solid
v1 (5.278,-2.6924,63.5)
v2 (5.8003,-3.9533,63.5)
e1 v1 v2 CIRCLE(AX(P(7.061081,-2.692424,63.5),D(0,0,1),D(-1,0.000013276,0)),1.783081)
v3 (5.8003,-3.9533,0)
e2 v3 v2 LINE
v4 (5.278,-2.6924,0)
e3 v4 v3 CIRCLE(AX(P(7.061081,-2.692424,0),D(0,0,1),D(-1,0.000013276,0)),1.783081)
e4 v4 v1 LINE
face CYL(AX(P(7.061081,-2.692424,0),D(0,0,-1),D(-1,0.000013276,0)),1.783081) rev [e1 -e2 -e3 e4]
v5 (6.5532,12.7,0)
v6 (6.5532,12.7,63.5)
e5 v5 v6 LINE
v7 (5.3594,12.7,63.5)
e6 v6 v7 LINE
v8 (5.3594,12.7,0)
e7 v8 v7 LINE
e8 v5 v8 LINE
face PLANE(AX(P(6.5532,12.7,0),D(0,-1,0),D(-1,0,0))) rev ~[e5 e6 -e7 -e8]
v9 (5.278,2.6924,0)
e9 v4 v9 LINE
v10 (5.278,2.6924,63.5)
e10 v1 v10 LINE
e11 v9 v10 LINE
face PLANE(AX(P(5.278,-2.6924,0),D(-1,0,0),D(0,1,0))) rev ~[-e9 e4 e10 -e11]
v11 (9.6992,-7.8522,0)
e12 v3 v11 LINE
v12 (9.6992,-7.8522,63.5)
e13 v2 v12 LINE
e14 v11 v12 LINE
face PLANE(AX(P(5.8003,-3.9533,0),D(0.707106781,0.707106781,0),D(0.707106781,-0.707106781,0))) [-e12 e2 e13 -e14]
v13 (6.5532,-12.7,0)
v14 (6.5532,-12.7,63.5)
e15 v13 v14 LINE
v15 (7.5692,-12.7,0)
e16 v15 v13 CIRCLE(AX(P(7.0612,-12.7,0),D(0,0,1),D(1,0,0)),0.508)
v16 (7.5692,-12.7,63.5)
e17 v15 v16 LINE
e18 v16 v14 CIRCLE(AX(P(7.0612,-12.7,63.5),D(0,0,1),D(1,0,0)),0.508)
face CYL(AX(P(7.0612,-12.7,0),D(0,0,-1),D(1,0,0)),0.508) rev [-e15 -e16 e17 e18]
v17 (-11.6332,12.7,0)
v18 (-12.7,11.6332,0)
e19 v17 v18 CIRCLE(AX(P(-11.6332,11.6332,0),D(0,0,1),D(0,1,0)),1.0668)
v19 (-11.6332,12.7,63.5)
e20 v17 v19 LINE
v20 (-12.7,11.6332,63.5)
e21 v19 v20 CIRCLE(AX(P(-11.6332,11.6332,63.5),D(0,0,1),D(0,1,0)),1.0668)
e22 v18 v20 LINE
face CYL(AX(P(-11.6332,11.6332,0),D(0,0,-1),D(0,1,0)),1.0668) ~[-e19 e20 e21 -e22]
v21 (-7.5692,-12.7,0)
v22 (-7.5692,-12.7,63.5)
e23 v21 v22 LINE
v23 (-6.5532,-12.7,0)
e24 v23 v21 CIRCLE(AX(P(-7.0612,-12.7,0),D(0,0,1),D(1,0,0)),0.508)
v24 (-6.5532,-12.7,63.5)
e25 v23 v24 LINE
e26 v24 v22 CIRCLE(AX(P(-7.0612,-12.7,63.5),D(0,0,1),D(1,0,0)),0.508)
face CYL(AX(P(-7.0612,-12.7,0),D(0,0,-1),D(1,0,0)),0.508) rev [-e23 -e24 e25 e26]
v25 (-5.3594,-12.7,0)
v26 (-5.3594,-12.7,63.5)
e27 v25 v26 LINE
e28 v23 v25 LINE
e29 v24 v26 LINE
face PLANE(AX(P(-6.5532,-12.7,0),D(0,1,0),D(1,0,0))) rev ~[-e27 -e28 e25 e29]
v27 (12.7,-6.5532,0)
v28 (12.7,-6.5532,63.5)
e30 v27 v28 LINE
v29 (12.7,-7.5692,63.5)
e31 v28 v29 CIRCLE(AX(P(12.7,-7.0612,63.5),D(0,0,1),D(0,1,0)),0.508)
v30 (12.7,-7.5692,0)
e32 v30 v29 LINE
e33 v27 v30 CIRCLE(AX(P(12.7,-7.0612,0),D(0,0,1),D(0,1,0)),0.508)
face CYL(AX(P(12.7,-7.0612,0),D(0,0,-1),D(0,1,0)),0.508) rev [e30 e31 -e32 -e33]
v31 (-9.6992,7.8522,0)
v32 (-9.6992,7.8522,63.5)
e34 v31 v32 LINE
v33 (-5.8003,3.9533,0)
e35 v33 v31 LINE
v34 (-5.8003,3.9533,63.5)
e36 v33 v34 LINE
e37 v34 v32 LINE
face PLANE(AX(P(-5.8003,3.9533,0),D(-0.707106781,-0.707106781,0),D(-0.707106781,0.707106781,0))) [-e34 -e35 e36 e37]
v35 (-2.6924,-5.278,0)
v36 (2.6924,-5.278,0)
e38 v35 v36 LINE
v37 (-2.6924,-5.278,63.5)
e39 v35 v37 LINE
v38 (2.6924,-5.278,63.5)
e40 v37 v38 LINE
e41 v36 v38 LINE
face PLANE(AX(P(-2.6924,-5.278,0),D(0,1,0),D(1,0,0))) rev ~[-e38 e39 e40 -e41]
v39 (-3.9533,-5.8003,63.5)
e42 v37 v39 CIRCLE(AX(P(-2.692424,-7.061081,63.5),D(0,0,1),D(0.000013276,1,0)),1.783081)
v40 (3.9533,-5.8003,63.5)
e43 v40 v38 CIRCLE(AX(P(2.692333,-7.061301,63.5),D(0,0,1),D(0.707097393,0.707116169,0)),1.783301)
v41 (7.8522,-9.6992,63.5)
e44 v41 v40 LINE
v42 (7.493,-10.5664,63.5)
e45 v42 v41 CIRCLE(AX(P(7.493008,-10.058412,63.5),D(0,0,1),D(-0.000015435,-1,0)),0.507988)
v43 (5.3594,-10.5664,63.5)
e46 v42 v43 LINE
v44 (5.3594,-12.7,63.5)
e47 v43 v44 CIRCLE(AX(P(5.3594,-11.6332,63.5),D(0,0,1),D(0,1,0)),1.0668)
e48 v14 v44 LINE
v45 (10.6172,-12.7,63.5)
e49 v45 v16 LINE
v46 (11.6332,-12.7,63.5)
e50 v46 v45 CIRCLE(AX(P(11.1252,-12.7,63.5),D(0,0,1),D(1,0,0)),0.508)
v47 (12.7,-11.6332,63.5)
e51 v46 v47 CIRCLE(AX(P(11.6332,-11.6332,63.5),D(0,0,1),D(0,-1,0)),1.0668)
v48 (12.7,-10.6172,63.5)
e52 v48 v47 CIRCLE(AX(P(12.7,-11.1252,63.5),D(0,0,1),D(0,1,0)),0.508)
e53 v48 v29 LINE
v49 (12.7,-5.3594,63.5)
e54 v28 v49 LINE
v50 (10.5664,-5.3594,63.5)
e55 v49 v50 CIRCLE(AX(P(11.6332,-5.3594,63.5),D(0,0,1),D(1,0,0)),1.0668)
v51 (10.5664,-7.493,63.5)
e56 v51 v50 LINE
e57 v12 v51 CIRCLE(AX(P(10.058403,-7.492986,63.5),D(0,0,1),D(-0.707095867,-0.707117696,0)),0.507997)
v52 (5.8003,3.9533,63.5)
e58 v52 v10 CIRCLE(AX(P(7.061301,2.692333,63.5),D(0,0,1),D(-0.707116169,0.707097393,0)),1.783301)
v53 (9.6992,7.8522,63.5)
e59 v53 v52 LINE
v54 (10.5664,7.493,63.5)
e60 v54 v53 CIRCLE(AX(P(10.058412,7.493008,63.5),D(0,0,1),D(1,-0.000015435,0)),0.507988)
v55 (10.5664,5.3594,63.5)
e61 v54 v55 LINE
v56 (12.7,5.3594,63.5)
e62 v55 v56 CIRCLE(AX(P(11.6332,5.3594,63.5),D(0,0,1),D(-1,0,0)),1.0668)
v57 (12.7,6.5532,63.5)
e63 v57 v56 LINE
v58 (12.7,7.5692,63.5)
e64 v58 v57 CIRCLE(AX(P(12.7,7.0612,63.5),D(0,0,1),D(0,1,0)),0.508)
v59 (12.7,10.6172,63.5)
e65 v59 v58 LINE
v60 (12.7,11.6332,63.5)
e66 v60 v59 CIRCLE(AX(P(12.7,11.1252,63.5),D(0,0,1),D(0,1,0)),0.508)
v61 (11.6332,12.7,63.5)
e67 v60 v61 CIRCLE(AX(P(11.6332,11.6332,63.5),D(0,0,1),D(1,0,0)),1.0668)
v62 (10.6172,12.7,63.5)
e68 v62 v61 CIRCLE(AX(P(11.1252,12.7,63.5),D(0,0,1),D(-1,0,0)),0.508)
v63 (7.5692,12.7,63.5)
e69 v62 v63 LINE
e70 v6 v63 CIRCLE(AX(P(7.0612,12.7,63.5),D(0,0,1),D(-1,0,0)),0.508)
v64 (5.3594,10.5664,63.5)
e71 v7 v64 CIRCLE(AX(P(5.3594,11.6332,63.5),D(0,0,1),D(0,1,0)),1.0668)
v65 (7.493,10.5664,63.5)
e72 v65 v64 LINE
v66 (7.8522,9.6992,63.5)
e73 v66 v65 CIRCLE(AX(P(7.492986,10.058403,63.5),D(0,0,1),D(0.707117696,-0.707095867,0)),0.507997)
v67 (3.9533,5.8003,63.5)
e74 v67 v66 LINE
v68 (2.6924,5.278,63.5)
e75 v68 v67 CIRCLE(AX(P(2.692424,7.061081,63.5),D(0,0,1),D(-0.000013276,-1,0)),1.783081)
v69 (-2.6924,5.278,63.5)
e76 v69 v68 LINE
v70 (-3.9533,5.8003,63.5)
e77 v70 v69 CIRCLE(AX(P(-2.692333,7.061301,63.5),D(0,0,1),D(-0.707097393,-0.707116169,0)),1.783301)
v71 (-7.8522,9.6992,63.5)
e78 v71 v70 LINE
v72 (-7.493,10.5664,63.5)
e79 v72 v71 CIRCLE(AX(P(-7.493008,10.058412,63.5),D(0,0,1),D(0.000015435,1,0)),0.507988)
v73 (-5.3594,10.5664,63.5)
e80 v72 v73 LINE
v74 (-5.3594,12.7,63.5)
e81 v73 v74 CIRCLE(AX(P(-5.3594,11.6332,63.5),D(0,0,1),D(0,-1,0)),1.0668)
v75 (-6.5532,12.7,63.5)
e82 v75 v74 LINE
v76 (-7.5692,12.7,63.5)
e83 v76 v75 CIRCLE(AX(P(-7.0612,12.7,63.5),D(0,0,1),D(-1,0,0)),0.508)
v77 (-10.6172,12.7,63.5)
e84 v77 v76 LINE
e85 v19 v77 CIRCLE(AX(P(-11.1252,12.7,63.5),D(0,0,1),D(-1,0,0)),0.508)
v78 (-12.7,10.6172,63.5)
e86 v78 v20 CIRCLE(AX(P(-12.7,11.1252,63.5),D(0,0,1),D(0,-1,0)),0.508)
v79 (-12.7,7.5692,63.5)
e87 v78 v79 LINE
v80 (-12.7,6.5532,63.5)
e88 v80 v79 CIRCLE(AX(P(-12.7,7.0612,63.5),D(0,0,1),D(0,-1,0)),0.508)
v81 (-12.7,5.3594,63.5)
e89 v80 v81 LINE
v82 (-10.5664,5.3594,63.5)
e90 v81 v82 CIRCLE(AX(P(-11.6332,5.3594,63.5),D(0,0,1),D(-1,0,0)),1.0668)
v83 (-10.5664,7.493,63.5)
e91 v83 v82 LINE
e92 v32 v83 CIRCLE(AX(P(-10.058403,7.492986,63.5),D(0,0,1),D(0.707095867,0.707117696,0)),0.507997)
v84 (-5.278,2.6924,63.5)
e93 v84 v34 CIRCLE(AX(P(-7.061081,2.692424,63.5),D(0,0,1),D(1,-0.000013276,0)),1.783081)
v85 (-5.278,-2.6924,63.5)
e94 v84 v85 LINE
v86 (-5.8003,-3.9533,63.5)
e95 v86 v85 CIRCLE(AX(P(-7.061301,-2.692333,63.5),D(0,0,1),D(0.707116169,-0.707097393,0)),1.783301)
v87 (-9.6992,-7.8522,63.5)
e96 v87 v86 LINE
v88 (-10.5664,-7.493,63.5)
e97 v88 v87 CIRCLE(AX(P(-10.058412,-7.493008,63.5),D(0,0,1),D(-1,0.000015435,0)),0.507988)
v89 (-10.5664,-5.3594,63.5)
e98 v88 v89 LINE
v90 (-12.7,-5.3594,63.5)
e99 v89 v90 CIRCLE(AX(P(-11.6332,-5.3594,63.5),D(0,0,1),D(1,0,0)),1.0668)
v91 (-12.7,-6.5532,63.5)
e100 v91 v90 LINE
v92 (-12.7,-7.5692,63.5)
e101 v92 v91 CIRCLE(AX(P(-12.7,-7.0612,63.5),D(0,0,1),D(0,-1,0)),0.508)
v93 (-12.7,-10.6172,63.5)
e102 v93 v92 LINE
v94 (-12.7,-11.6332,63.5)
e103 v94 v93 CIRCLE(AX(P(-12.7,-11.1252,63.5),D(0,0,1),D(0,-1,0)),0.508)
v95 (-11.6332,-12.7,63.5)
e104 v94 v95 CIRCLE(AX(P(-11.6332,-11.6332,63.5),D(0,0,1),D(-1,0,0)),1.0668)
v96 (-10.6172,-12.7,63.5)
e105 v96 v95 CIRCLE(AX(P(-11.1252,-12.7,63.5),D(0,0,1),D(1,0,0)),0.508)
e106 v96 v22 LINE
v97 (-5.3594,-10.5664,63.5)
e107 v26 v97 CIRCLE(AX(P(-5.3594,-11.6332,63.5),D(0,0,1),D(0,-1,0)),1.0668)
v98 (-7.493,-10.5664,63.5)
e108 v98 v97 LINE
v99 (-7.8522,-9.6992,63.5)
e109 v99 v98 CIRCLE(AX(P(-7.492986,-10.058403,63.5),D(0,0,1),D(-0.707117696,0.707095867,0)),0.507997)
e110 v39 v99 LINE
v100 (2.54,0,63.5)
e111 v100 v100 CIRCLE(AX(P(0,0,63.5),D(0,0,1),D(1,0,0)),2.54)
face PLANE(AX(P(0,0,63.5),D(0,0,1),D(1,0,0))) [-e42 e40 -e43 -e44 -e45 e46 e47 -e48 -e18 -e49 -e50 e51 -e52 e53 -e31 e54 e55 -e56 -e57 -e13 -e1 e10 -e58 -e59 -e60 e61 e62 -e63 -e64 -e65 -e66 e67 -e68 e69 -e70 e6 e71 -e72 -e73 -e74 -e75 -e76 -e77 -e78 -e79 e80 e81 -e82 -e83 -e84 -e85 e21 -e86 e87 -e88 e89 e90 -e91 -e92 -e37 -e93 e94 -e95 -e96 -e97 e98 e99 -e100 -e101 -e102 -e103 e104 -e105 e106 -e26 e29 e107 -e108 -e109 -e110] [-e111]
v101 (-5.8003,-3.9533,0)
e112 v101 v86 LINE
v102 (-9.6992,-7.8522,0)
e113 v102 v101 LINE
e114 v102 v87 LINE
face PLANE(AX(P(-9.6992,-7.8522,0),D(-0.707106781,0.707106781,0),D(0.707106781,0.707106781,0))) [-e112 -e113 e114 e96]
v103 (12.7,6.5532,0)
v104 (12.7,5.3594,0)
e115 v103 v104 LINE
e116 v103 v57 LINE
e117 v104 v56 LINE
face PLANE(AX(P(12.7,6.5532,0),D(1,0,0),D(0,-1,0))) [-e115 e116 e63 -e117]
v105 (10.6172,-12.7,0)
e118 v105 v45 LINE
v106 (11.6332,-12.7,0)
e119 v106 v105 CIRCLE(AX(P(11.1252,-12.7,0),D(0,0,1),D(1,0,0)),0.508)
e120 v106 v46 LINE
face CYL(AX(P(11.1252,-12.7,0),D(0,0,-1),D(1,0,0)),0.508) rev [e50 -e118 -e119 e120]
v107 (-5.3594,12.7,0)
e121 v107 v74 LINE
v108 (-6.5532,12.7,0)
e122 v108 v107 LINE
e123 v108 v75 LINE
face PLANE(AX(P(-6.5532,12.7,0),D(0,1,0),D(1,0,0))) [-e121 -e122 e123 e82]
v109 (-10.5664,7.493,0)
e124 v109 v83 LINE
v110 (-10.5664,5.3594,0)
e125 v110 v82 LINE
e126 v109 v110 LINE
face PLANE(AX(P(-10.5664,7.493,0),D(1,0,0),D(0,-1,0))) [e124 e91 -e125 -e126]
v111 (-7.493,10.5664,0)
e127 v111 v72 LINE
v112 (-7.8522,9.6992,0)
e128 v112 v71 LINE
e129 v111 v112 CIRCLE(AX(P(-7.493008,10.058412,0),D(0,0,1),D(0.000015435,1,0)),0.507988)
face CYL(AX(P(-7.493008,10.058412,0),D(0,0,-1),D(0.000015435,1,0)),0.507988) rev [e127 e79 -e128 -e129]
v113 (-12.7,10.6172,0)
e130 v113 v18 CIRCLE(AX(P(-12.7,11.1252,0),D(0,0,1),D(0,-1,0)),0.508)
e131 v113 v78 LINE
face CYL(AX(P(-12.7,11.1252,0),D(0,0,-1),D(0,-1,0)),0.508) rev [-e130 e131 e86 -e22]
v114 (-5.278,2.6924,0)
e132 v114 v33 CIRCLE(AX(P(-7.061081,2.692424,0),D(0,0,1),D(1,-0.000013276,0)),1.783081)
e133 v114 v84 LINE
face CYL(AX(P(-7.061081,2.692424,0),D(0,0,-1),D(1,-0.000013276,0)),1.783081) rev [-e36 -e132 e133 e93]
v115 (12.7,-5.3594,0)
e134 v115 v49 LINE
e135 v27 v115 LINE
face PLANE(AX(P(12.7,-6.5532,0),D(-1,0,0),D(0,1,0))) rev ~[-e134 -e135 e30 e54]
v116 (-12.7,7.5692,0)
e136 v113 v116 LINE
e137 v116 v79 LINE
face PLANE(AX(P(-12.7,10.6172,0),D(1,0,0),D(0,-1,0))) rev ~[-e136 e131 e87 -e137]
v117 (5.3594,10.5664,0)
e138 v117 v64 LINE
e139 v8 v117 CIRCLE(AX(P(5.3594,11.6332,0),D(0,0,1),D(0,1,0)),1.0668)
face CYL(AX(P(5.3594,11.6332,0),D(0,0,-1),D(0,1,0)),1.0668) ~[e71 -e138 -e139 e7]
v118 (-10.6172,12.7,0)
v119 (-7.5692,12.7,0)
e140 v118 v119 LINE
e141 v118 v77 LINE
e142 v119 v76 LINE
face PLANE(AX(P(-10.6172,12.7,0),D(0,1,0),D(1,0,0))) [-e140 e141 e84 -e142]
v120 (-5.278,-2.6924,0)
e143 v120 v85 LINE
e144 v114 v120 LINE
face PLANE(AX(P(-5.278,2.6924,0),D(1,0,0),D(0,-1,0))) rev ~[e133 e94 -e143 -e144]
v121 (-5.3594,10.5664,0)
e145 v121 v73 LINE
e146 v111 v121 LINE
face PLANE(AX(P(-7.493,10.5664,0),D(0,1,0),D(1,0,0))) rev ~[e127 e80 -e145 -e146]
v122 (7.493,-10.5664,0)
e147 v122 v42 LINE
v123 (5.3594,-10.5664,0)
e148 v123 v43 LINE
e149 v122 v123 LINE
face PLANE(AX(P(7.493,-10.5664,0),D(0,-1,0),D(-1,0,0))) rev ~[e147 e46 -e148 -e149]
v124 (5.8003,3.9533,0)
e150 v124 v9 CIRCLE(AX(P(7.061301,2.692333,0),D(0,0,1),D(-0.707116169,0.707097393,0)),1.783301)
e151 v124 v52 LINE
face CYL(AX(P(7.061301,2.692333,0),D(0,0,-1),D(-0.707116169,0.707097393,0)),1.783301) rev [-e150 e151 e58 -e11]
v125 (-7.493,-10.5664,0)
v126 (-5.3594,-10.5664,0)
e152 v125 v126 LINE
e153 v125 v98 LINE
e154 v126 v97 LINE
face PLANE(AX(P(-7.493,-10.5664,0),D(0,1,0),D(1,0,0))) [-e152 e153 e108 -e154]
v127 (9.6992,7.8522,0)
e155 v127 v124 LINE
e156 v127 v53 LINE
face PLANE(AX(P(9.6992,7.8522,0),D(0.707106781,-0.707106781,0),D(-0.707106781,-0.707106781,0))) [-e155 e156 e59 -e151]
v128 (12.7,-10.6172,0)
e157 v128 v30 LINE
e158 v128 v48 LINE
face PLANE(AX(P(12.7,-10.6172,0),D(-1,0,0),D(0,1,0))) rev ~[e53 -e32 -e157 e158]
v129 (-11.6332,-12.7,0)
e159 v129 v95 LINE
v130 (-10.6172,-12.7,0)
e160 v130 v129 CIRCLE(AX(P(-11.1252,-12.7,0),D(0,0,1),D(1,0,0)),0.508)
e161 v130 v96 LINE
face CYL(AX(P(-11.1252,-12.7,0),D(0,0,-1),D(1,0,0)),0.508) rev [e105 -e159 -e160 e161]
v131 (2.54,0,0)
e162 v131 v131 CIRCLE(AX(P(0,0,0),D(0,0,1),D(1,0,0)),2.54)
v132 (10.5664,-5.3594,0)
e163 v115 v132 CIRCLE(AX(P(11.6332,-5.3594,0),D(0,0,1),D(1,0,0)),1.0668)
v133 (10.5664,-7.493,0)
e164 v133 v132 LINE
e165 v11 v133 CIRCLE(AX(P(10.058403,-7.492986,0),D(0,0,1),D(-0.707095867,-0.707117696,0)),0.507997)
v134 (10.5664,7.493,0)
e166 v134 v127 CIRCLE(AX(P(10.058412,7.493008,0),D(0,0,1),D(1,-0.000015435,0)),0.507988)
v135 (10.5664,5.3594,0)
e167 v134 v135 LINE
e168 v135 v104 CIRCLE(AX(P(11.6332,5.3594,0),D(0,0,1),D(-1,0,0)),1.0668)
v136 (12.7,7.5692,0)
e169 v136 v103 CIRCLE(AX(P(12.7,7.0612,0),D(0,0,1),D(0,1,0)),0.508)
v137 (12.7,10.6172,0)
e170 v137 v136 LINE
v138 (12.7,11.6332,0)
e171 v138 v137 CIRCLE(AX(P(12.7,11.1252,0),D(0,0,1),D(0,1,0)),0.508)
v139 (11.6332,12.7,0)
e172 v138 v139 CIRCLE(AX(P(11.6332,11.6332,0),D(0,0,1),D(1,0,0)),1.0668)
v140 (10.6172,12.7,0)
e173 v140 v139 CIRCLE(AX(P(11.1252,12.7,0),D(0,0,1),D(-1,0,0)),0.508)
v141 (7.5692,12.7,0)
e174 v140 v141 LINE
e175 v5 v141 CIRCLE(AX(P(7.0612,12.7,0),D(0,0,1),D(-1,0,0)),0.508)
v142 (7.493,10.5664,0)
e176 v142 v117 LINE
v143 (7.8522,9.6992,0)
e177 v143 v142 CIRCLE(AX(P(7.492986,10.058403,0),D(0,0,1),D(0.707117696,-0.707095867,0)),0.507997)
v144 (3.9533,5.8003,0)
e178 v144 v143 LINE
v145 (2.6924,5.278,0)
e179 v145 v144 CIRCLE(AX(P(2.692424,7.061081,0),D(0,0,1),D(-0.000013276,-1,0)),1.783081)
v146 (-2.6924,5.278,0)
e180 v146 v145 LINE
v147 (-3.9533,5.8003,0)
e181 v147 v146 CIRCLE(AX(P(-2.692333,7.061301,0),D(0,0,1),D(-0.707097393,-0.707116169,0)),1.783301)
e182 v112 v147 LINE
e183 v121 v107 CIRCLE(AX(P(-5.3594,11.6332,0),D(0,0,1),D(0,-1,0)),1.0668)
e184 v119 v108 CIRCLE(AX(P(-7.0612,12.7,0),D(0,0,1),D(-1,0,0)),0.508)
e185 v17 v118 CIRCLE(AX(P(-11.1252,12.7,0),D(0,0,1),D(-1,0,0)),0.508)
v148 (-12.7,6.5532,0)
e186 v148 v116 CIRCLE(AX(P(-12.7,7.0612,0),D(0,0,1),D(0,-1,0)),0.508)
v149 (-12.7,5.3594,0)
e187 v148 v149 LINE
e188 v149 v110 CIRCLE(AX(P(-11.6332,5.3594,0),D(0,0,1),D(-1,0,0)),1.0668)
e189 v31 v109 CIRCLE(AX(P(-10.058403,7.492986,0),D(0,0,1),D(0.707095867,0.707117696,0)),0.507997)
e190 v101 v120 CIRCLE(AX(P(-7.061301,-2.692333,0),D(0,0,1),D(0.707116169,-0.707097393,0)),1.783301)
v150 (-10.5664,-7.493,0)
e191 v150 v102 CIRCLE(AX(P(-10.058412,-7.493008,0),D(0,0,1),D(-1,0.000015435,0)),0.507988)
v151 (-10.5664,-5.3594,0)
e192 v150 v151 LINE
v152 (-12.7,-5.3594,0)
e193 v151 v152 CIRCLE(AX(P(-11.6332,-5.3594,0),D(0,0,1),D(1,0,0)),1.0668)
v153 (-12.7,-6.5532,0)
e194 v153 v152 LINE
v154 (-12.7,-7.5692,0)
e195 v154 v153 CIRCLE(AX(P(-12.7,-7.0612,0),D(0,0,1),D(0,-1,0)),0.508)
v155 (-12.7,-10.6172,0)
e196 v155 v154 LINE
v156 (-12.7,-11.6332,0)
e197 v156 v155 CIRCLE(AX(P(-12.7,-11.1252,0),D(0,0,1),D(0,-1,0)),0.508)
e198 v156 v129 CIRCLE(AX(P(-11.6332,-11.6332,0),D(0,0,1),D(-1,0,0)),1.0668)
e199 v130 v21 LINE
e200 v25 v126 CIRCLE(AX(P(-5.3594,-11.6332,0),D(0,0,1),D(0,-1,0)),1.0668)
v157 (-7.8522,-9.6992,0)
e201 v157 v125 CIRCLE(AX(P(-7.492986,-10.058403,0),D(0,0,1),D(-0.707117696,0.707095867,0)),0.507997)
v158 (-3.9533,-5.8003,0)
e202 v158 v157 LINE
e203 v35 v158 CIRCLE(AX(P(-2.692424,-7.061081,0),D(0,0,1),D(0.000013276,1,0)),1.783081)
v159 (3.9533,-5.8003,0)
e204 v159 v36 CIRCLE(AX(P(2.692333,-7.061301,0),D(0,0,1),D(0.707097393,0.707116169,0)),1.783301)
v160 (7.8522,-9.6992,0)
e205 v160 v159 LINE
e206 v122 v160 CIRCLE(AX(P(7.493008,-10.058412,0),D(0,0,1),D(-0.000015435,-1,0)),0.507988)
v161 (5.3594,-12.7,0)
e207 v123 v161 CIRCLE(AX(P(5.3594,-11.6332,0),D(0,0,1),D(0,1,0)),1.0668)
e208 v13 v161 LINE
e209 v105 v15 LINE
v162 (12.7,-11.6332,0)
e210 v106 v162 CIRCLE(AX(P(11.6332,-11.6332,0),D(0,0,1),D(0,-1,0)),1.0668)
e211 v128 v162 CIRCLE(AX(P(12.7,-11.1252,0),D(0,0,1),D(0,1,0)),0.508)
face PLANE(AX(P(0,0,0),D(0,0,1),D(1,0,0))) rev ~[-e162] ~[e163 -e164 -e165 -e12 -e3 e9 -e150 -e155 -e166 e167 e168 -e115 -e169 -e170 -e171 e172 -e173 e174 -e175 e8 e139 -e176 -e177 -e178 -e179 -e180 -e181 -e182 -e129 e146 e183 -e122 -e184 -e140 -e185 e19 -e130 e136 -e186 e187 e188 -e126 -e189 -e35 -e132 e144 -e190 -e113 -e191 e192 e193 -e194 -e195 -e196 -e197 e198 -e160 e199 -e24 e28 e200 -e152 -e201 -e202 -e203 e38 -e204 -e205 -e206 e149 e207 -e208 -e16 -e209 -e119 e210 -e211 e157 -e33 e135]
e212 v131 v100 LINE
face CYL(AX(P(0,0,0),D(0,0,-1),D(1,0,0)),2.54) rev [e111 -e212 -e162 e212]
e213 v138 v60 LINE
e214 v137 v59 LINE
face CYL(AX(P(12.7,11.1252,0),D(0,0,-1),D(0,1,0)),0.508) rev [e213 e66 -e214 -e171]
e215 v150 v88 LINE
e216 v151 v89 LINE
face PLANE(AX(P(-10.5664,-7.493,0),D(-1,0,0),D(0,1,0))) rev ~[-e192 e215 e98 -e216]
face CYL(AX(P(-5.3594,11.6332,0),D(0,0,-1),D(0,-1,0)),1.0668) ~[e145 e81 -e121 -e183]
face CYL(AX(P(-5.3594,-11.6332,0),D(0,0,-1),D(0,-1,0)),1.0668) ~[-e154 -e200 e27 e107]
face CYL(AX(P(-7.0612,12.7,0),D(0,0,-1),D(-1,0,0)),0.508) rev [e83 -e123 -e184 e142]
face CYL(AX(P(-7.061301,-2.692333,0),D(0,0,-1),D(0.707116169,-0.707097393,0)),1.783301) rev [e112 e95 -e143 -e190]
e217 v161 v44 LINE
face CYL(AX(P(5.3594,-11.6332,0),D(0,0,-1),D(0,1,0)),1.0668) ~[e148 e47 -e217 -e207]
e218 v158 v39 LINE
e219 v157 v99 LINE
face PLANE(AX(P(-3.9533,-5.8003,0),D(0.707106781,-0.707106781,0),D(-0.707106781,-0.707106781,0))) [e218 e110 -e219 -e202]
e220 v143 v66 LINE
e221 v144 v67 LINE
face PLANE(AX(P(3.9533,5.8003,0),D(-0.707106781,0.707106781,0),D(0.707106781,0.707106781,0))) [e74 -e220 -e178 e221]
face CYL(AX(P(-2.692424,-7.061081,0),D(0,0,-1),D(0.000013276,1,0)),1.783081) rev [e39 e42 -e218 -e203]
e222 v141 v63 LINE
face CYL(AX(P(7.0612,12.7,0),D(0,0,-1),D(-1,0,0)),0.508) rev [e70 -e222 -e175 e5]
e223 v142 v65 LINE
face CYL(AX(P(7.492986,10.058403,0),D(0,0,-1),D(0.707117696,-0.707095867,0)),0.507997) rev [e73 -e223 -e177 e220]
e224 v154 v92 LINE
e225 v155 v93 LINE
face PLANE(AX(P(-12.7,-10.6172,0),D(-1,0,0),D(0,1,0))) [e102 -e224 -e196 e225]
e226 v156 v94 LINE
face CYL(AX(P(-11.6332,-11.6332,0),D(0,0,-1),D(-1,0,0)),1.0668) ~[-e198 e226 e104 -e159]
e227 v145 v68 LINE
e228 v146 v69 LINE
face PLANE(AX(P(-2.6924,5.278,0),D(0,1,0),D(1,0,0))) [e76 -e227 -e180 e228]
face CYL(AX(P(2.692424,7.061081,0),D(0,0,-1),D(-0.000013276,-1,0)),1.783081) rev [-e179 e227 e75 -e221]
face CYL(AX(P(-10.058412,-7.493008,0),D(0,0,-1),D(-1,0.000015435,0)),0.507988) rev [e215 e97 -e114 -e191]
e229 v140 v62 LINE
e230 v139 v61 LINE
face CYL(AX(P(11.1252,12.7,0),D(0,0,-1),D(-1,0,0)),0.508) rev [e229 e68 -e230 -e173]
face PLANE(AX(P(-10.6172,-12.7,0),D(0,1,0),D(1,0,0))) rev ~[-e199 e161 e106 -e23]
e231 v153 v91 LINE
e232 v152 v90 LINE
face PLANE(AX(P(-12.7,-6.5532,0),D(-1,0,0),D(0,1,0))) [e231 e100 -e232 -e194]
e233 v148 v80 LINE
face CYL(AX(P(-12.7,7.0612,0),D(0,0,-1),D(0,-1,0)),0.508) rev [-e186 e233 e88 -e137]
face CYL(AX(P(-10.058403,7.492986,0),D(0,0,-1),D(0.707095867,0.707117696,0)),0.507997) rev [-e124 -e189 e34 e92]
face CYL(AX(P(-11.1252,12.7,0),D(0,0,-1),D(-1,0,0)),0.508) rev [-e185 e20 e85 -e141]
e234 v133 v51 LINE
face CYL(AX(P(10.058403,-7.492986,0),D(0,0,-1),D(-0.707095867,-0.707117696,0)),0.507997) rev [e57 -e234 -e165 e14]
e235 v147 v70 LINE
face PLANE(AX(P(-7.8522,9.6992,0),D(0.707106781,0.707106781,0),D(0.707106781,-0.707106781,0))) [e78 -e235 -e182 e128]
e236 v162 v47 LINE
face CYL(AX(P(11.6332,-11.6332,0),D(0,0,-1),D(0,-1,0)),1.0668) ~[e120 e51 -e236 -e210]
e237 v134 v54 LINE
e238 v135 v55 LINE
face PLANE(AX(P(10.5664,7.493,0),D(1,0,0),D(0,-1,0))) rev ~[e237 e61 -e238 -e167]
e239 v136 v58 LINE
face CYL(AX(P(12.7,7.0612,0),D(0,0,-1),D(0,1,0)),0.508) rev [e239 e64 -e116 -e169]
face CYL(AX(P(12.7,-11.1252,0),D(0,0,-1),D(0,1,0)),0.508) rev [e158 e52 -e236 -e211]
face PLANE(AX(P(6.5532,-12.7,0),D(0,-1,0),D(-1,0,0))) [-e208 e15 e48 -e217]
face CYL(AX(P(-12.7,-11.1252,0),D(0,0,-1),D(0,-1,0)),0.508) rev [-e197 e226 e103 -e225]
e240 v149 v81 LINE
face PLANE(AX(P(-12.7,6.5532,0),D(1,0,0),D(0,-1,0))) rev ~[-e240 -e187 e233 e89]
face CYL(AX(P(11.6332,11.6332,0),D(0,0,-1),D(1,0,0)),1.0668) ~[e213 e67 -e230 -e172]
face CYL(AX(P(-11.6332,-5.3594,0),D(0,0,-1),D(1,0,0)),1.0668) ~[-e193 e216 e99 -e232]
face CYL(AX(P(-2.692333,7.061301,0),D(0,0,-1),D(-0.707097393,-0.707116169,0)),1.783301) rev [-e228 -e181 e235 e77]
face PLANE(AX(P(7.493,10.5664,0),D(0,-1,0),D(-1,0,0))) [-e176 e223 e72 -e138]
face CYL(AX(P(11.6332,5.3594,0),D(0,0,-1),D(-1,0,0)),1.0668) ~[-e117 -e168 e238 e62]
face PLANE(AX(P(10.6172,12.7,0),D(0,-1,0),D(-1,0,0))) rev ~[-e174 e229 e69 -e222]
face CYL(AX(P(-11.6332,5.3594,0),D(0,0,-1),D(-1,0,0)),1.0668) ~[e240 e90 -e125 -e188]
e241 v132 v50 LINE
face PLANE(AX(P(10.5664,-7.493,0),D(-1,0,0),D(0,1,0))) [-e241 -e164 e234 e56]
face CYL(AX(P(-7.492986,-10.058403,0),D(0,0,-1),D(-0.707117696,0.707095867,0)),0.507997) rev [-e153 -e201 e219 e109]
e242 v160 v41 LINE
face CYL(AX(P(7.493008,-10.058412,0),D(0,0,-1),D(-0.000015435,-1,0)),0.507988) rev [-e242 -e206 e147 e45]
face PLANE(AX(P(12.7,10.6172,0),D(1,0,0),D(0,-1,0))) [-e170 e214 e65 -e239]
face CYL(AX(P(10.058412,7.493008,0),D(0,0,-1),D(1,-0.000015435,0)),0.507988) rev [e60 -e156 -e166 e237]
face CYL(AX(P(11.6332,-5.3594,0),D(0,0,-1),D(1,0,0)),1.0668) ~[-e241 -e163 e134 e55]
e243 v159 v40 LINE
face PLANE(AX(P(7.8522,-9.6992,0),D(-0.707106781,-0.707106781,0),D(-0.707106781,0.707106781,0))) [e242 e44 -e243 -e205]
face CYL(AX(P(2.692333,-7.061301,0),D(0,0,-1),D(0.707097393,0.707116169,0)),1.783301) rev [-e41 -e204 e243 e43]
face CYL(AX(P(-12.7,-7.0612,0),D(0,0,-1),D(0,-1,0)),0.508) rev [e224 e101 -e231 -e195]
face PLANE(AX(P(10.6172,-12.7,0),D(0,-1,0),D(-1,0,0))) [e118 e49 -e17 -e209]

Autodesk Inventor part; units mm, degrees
ref_plane "YZ Plane" through (0, 0, 0) normal (1, 0, 0) x (0, 1, 0)
ref_plane "Start Plane" through (0, 0, 0) normal (0, 0, 1) x (1, 0, 0)
ref_plane "End Plane" through (0, 0, 63.5) normal (0, 0, 1) x (1, 0, 0)
sketch "Sketch" plane through (0, 0, 0) normal (0, 0, 1) x (1, 0, 0)
  arc A0 (-11.6332, 12.7) -> (-12.7, 11.6332) centre (-11.6332, 11.6332) ccw
  arc A1 (-5.3594, 10.5664) -> (-5.3594, 12.7) centre (-5.3594, 11.6332) ccw
  arc A2 (-12.7, 5.3594) -> (-10.5664, 5.3594) centre (-11.6332, 5.3594) ccw
  line L0 (-10.5664, 7.493) -> (-10.5664, 5.3594)
  line L1 (-7.493, 10.5664) -> (-5.3594, 10.5664)
  arc A3 (-9.6992, 7.8522) -> (-10.5664, 7.493) centre (-10.0584, 7.493) ccw
  arc A4 (-7.493, 10.5664) -> (-7.8522, 9.6992) centre (-7.493, 10.0584) ccw
  line L2 (-11.6332, 11.6332) -> (0, 0) construction
  line L3 (-5.8003, 3.9533) -> (-9.6992, 7.8522)
  line L4 (-7.8522, 9.6992) -> (-3.9533, 5.8003)
  arc A5 (-3.9533, 5.8003) -> (-2.6924, 5.278) centre (-2.6924, 7.0612) ccw
  arc A6 (-5.278, 2.6924) -> (-5.8003, 3.9533) centre (-7.0612, 2.6924) ccw
  arc A7 (0, 2.54) -> (-2.54, 0) centre (0, 0) ccw construction
  line L5 (0, 0) -> (-12.7, 0) construction
  line L6 (0, 12.7) -> (0, 0) construction
  arc A8 (-11.6332, 12.7) -> (-10.6172, 12.7) centre (-11.1252, 12.7) ccw
  arc A9 (-7.5692, 12.7) -> (-6.5532, 12.7) centre (-7.0612, 12.7) ccw
  arc A10 (-12.7, 10.6172) -> (-12.7, 11.6332) centre (-12.7, 11.1252) ccw
  arc A11 (-12.7, 6.5532) -> (-12.7, 7.5692) centre (-12.7, 7.0612) ccw
  line L7 (-12.7, 10.6172) -> (-12.7, 7.5692)
  line L8 (-12.7, 6.5532) -> (-12.7, 5.3594)
  line L9 (-10.6172, 12.7) -> (-7.5692, 12.7)
  line L10 (-6.5532, 12.7) -> (-5.3594, 12.7)
  circle A12 centre (0, 0) radius 2.54
  arc A13 (-12.7, -11.6332) -> (-11.6332, -12.7) centre (-11.6332, -11.6332) ccw
  line L11 (-12.7, -10.6172) -> (-12.7, -7.5692)
  arc A14 (-10.5664, -7.493) -> (-9.6992, -7.8522) centre (-10.0584, -7.493) ccw
  line L12 (-9.6992, -7.8522) -> (-5.8003, -3.9533)
  line L13 (-11.6332, -11.6332) -> (0, 0) construction
  line L14 (-3.9533, -5.8003) -> (-7.8522, -9.6992)
  arc A15 (-7.8522, -9.6992) -> (-7.493, -10.5664) centre (-7.493, -10.0584) ccw
  line L15 (-10.6172, -12.7) -> (-7.5692, -12.7)
  line L16 (-7.493, -10.5664) -> (-5.3594, -10.5664)
  arc A16 (-6.5532, -12.7) -> (-7.5692, -12.7) centre (-7.0612, -12.7) ccw
  line L17 (-6.5532, -12.7) -> (-5.3594, -12.7)
  arc A17 (-5.3594, -12.7) -> (-5.3594, -10.5664) centre (-5.3594, -11.6332) ccw
  arc A18 (-10.6172, -12.7) -> (-11.6332, -12.7) centre (-11.1252, -12.7) ccw
  arc A19 (-12.7, -11.6332) -> (-12.7, -10.6172) centre (-12.7, -11.1252) ccw
  arc A20 (-2.6924, -5.278) -> (-3.9533, -5.8003) centre (-2.6924, -7.0612) ccw
  arc A21 (-5.8003, -3.9533) -> (-5.278, -2.6924) centre (-7.0612, -2.6924) ccw
  line L18 (-10.5664, -7.493) -> (-10.5664, -5.3594)
  line L19 (-12.7, -6.5532) -> (-12.7, -5.3594)
  arc A22 (-10.5664, -5.3594) -> (-12.7, -5.3594) centre (-11.6332, -5.3594) ccw
  arc A23 (-12.7, -7.5692) -> (-12.7, -6.5532) centre (-12.7, -7.0612) ccw
  arc A24 (11.6332, -12.7) -> (12.7, -11.6332) centre (11.6332, -11.6332) ccw
  line L20 (10.6172, -12.7) -> (7.5692, -12.7)
  arc A25 (7.493, -10.5664) -> (7.8522, -9.6992) centre (7.493, -10.0584) ccw
  line L21 (7.8522, -9.6992) -> (3.9533, -5.8003)
  line L22 (11.6332, -11.6332) -> (0, 0) construction
  line L23 (5.8003, -3.9533) -> (9.6992, -7.8522)
  arc A26 (9.6992, -7.8522) -> (10.5664, -7.493) centre (10.0584, -7.493) ccw
  line L24 (12.7, -10.6172) -> (12.7, -7.5692)
  line L25 (10.5664, -7.493) -> (10.5664, -5.3594)
  arc A27 (12.7, -6.5532) -> (12.7, -7.5692) centre (12.7, -7.0612) ccw
  line L26 (12.7, -6.5532) -> (12.7, -5.3594)
  arc A28 (12.7, -5.3594) -> (10.5664, -5.3594) centre (11.6332, -5.3594) ccw
  arc A29 (12.7, -10.6172) -> (12.7, -11.6332) centre (12.7, -11.1252) ccw
  arc A30 (11.6332, -12.7) -> (10.6172, -12.7) centre (11.1252, -12.7) ccw
  arc A31 (5.278, -2.6924) -> (5.8003, -3.9533) centre (7.0612, -2.6924) ccw
  arc A32 (3.9533, -5.8003) -> (2.6924, -5.278) centre (2.6924, -7.0612) ccw
  line L27 (7.493, -10.5664) -> (5.3594, -10.5664)
  line L28 (6.5532, -12.7) -> (5.3594, -12.7)
  arc A33 (5.3594, -10.5664) -> (5.3594, -12.7) centre (5.3594, -11.6332) ccw
  arc A34 (7.5692, -12.7) -> (6.5532, -12.7) centre (7.0612, -12.7) ccw
  arc A35 (12.7, 11.6332) -> (11.6332, 12.7) centre (11.6332, 11.6332) ccw
  line L29 (12.7, 10.6172) -> (12.7, 7.5692)
  arc A36 (10.5664, 7.493) -> (9.6992, 7.8522) centre (10.0584, 7.493) ccw
  line L30 (9.6992, 7.8522) -> (5.8003, 3.9533)
  line L31 (11.6332, 11.6332) -> (0, 0) construction
  line L32 (3.9533, 5.8003) -> (7.8522, 9.6992)
  arc A37 (7.8522, 9.6992) -> (7.493, 10.5664) centre (7.493, 10.0584) ccw
  line L33 (10.6172, 12.7) -> (7.5692, 12.7)
  line L34 (7.493, 10.5664) -> (5.3594, 10.5664)
  arc A38 (6.5532, 12.7) -> (7.5692, 12.7) centre (7.0612, 12.7) ccw
  line L35 (6.5532, 12.7) -> (5.3594, 12.7)
  arc A39 (5.3594, 12.7) -> (5.3594, 10.5664) centre (5.3594, 11.6332) ccw
  arc A40 (10.6172, 12.7) -> (11.6332, 12.7) centre (11.1252, 12.7) ccw
  arc A41 (12.7, 11.6332) -> (12.7, 10.6172) centre (12.7, 11.1252) ccw
  arc A42 (2.6924, 5.278) -> (3.9533, 5.8003) centre (2.6924, 7.0612) ccw
  arc A43 (5.8003, 3.9533) -> (5.278, 2.6924) centre (7.0612, 2.6924) ccw
  line L36 (10.5664, 7.493) -> (10.5664, 5.3594)
  line L37 (12.7, 6.5532) -> (12.7, 5.3594)
  arc A44 (10.5664, 5.3594) -> (12.7, 5.3594) centre (11.6332, 5.3594) ccw
  arc A45 (12.7, 7.5692) -> (12.7, 6.5532) centre (12.7, 7.0612) ccw
  line L38 (-2.6924, 5.278) -> (2.6924, 5.278)
  line L39 (-5.278, 2.6924) -> (-5.278, -2.6924)
  line L40 (-2.6924, -5.278) -> (2.6924, -5.278)
  line L41 (5.278, -2.6924) -> (5.278, 2.6924)
  point P0 (0, 0)
  point P1 (0, 0)
  dimension "d2" = 2.1336
  dimension "d3" = 6.2738
  dimension "d4" = 6.2738
  dimension "d5" = 1.0668
  dimension "d6" = 2.1336
  dimension "d7" = 2.1336
  dimension "d8" = 1.016
  dimension "d9" = 1.016
  dimension "d10" = 135
  dimension "d11" = 2.667
  dimension "d12" = 4.572
  dimension "d13" = 4.572
  dimension "d14" = 2.667
  dimension "d15" = 5.08
  dimension "d16" = 45
  dimension "d19" = 45
  dimension "d20" = 0.508
  dimension "d21" = 4.572
  dimension "d22" = 1.016
  dimension "d23" = 4.572
  dimension "d24" = 1.016
  dimension "d25" = 0.508
  dimension "d26" = 0.508
  dimension "d27" = 0.508
  dimension "d28" = 12.7
  dimension "d37" = 360
  dimension "d47" = 10.5664
  dimension "d48" = 12.7
extrude "Body" add sketch "Sketch" along normal up to surface (63.5 mm away) from surface at 0
sketch "Sketch2" plane through (0, 0, 0) normal (0, 0, 1) x (1, 0, 0)
  line L0 (0, 0) -> (10, 0)
ref_plane "Work Plane3" through (0, 0, 0) normal (0, -1, 0) x (1, 0, 0)
sketch "Sketch3" plane through (0, 0, 0) normal (0, -1, 0) x (1, 0, 0)
  line L0 (-2, 0) -> (12, 0)
  line L1 (-2, 63.5) -> (12, 63.5)
  dimension "d60" = 63.5
equation "\"d3\" = d4"
equation "\"d6\" = d7"
equation "\"d11\" = d14"
equation "\"d12\" = d13"
equation "\"d23\" = d21"
equation "\"d24\" = d30"
equation "\"d26\" = 0.5 * d24"
equation "\"d27\" = 0.5 * d22"
equation "\"Width\" = 2 * d28"
equation "\"Height\" = 2 * d48"
equation "\"G_OFFSET_START\" = 0"
equation "\"G_OFFSET_END\" = 0"
equation "\"d56\" = Length + G_OFFSET_END"
equation "\"G_L\" = 63.5"
equation "\"d30\" = 1.016"
equation "\"Length\" = 63.5"
properties part number "1010_80_20" material "Aluminum-6061"
